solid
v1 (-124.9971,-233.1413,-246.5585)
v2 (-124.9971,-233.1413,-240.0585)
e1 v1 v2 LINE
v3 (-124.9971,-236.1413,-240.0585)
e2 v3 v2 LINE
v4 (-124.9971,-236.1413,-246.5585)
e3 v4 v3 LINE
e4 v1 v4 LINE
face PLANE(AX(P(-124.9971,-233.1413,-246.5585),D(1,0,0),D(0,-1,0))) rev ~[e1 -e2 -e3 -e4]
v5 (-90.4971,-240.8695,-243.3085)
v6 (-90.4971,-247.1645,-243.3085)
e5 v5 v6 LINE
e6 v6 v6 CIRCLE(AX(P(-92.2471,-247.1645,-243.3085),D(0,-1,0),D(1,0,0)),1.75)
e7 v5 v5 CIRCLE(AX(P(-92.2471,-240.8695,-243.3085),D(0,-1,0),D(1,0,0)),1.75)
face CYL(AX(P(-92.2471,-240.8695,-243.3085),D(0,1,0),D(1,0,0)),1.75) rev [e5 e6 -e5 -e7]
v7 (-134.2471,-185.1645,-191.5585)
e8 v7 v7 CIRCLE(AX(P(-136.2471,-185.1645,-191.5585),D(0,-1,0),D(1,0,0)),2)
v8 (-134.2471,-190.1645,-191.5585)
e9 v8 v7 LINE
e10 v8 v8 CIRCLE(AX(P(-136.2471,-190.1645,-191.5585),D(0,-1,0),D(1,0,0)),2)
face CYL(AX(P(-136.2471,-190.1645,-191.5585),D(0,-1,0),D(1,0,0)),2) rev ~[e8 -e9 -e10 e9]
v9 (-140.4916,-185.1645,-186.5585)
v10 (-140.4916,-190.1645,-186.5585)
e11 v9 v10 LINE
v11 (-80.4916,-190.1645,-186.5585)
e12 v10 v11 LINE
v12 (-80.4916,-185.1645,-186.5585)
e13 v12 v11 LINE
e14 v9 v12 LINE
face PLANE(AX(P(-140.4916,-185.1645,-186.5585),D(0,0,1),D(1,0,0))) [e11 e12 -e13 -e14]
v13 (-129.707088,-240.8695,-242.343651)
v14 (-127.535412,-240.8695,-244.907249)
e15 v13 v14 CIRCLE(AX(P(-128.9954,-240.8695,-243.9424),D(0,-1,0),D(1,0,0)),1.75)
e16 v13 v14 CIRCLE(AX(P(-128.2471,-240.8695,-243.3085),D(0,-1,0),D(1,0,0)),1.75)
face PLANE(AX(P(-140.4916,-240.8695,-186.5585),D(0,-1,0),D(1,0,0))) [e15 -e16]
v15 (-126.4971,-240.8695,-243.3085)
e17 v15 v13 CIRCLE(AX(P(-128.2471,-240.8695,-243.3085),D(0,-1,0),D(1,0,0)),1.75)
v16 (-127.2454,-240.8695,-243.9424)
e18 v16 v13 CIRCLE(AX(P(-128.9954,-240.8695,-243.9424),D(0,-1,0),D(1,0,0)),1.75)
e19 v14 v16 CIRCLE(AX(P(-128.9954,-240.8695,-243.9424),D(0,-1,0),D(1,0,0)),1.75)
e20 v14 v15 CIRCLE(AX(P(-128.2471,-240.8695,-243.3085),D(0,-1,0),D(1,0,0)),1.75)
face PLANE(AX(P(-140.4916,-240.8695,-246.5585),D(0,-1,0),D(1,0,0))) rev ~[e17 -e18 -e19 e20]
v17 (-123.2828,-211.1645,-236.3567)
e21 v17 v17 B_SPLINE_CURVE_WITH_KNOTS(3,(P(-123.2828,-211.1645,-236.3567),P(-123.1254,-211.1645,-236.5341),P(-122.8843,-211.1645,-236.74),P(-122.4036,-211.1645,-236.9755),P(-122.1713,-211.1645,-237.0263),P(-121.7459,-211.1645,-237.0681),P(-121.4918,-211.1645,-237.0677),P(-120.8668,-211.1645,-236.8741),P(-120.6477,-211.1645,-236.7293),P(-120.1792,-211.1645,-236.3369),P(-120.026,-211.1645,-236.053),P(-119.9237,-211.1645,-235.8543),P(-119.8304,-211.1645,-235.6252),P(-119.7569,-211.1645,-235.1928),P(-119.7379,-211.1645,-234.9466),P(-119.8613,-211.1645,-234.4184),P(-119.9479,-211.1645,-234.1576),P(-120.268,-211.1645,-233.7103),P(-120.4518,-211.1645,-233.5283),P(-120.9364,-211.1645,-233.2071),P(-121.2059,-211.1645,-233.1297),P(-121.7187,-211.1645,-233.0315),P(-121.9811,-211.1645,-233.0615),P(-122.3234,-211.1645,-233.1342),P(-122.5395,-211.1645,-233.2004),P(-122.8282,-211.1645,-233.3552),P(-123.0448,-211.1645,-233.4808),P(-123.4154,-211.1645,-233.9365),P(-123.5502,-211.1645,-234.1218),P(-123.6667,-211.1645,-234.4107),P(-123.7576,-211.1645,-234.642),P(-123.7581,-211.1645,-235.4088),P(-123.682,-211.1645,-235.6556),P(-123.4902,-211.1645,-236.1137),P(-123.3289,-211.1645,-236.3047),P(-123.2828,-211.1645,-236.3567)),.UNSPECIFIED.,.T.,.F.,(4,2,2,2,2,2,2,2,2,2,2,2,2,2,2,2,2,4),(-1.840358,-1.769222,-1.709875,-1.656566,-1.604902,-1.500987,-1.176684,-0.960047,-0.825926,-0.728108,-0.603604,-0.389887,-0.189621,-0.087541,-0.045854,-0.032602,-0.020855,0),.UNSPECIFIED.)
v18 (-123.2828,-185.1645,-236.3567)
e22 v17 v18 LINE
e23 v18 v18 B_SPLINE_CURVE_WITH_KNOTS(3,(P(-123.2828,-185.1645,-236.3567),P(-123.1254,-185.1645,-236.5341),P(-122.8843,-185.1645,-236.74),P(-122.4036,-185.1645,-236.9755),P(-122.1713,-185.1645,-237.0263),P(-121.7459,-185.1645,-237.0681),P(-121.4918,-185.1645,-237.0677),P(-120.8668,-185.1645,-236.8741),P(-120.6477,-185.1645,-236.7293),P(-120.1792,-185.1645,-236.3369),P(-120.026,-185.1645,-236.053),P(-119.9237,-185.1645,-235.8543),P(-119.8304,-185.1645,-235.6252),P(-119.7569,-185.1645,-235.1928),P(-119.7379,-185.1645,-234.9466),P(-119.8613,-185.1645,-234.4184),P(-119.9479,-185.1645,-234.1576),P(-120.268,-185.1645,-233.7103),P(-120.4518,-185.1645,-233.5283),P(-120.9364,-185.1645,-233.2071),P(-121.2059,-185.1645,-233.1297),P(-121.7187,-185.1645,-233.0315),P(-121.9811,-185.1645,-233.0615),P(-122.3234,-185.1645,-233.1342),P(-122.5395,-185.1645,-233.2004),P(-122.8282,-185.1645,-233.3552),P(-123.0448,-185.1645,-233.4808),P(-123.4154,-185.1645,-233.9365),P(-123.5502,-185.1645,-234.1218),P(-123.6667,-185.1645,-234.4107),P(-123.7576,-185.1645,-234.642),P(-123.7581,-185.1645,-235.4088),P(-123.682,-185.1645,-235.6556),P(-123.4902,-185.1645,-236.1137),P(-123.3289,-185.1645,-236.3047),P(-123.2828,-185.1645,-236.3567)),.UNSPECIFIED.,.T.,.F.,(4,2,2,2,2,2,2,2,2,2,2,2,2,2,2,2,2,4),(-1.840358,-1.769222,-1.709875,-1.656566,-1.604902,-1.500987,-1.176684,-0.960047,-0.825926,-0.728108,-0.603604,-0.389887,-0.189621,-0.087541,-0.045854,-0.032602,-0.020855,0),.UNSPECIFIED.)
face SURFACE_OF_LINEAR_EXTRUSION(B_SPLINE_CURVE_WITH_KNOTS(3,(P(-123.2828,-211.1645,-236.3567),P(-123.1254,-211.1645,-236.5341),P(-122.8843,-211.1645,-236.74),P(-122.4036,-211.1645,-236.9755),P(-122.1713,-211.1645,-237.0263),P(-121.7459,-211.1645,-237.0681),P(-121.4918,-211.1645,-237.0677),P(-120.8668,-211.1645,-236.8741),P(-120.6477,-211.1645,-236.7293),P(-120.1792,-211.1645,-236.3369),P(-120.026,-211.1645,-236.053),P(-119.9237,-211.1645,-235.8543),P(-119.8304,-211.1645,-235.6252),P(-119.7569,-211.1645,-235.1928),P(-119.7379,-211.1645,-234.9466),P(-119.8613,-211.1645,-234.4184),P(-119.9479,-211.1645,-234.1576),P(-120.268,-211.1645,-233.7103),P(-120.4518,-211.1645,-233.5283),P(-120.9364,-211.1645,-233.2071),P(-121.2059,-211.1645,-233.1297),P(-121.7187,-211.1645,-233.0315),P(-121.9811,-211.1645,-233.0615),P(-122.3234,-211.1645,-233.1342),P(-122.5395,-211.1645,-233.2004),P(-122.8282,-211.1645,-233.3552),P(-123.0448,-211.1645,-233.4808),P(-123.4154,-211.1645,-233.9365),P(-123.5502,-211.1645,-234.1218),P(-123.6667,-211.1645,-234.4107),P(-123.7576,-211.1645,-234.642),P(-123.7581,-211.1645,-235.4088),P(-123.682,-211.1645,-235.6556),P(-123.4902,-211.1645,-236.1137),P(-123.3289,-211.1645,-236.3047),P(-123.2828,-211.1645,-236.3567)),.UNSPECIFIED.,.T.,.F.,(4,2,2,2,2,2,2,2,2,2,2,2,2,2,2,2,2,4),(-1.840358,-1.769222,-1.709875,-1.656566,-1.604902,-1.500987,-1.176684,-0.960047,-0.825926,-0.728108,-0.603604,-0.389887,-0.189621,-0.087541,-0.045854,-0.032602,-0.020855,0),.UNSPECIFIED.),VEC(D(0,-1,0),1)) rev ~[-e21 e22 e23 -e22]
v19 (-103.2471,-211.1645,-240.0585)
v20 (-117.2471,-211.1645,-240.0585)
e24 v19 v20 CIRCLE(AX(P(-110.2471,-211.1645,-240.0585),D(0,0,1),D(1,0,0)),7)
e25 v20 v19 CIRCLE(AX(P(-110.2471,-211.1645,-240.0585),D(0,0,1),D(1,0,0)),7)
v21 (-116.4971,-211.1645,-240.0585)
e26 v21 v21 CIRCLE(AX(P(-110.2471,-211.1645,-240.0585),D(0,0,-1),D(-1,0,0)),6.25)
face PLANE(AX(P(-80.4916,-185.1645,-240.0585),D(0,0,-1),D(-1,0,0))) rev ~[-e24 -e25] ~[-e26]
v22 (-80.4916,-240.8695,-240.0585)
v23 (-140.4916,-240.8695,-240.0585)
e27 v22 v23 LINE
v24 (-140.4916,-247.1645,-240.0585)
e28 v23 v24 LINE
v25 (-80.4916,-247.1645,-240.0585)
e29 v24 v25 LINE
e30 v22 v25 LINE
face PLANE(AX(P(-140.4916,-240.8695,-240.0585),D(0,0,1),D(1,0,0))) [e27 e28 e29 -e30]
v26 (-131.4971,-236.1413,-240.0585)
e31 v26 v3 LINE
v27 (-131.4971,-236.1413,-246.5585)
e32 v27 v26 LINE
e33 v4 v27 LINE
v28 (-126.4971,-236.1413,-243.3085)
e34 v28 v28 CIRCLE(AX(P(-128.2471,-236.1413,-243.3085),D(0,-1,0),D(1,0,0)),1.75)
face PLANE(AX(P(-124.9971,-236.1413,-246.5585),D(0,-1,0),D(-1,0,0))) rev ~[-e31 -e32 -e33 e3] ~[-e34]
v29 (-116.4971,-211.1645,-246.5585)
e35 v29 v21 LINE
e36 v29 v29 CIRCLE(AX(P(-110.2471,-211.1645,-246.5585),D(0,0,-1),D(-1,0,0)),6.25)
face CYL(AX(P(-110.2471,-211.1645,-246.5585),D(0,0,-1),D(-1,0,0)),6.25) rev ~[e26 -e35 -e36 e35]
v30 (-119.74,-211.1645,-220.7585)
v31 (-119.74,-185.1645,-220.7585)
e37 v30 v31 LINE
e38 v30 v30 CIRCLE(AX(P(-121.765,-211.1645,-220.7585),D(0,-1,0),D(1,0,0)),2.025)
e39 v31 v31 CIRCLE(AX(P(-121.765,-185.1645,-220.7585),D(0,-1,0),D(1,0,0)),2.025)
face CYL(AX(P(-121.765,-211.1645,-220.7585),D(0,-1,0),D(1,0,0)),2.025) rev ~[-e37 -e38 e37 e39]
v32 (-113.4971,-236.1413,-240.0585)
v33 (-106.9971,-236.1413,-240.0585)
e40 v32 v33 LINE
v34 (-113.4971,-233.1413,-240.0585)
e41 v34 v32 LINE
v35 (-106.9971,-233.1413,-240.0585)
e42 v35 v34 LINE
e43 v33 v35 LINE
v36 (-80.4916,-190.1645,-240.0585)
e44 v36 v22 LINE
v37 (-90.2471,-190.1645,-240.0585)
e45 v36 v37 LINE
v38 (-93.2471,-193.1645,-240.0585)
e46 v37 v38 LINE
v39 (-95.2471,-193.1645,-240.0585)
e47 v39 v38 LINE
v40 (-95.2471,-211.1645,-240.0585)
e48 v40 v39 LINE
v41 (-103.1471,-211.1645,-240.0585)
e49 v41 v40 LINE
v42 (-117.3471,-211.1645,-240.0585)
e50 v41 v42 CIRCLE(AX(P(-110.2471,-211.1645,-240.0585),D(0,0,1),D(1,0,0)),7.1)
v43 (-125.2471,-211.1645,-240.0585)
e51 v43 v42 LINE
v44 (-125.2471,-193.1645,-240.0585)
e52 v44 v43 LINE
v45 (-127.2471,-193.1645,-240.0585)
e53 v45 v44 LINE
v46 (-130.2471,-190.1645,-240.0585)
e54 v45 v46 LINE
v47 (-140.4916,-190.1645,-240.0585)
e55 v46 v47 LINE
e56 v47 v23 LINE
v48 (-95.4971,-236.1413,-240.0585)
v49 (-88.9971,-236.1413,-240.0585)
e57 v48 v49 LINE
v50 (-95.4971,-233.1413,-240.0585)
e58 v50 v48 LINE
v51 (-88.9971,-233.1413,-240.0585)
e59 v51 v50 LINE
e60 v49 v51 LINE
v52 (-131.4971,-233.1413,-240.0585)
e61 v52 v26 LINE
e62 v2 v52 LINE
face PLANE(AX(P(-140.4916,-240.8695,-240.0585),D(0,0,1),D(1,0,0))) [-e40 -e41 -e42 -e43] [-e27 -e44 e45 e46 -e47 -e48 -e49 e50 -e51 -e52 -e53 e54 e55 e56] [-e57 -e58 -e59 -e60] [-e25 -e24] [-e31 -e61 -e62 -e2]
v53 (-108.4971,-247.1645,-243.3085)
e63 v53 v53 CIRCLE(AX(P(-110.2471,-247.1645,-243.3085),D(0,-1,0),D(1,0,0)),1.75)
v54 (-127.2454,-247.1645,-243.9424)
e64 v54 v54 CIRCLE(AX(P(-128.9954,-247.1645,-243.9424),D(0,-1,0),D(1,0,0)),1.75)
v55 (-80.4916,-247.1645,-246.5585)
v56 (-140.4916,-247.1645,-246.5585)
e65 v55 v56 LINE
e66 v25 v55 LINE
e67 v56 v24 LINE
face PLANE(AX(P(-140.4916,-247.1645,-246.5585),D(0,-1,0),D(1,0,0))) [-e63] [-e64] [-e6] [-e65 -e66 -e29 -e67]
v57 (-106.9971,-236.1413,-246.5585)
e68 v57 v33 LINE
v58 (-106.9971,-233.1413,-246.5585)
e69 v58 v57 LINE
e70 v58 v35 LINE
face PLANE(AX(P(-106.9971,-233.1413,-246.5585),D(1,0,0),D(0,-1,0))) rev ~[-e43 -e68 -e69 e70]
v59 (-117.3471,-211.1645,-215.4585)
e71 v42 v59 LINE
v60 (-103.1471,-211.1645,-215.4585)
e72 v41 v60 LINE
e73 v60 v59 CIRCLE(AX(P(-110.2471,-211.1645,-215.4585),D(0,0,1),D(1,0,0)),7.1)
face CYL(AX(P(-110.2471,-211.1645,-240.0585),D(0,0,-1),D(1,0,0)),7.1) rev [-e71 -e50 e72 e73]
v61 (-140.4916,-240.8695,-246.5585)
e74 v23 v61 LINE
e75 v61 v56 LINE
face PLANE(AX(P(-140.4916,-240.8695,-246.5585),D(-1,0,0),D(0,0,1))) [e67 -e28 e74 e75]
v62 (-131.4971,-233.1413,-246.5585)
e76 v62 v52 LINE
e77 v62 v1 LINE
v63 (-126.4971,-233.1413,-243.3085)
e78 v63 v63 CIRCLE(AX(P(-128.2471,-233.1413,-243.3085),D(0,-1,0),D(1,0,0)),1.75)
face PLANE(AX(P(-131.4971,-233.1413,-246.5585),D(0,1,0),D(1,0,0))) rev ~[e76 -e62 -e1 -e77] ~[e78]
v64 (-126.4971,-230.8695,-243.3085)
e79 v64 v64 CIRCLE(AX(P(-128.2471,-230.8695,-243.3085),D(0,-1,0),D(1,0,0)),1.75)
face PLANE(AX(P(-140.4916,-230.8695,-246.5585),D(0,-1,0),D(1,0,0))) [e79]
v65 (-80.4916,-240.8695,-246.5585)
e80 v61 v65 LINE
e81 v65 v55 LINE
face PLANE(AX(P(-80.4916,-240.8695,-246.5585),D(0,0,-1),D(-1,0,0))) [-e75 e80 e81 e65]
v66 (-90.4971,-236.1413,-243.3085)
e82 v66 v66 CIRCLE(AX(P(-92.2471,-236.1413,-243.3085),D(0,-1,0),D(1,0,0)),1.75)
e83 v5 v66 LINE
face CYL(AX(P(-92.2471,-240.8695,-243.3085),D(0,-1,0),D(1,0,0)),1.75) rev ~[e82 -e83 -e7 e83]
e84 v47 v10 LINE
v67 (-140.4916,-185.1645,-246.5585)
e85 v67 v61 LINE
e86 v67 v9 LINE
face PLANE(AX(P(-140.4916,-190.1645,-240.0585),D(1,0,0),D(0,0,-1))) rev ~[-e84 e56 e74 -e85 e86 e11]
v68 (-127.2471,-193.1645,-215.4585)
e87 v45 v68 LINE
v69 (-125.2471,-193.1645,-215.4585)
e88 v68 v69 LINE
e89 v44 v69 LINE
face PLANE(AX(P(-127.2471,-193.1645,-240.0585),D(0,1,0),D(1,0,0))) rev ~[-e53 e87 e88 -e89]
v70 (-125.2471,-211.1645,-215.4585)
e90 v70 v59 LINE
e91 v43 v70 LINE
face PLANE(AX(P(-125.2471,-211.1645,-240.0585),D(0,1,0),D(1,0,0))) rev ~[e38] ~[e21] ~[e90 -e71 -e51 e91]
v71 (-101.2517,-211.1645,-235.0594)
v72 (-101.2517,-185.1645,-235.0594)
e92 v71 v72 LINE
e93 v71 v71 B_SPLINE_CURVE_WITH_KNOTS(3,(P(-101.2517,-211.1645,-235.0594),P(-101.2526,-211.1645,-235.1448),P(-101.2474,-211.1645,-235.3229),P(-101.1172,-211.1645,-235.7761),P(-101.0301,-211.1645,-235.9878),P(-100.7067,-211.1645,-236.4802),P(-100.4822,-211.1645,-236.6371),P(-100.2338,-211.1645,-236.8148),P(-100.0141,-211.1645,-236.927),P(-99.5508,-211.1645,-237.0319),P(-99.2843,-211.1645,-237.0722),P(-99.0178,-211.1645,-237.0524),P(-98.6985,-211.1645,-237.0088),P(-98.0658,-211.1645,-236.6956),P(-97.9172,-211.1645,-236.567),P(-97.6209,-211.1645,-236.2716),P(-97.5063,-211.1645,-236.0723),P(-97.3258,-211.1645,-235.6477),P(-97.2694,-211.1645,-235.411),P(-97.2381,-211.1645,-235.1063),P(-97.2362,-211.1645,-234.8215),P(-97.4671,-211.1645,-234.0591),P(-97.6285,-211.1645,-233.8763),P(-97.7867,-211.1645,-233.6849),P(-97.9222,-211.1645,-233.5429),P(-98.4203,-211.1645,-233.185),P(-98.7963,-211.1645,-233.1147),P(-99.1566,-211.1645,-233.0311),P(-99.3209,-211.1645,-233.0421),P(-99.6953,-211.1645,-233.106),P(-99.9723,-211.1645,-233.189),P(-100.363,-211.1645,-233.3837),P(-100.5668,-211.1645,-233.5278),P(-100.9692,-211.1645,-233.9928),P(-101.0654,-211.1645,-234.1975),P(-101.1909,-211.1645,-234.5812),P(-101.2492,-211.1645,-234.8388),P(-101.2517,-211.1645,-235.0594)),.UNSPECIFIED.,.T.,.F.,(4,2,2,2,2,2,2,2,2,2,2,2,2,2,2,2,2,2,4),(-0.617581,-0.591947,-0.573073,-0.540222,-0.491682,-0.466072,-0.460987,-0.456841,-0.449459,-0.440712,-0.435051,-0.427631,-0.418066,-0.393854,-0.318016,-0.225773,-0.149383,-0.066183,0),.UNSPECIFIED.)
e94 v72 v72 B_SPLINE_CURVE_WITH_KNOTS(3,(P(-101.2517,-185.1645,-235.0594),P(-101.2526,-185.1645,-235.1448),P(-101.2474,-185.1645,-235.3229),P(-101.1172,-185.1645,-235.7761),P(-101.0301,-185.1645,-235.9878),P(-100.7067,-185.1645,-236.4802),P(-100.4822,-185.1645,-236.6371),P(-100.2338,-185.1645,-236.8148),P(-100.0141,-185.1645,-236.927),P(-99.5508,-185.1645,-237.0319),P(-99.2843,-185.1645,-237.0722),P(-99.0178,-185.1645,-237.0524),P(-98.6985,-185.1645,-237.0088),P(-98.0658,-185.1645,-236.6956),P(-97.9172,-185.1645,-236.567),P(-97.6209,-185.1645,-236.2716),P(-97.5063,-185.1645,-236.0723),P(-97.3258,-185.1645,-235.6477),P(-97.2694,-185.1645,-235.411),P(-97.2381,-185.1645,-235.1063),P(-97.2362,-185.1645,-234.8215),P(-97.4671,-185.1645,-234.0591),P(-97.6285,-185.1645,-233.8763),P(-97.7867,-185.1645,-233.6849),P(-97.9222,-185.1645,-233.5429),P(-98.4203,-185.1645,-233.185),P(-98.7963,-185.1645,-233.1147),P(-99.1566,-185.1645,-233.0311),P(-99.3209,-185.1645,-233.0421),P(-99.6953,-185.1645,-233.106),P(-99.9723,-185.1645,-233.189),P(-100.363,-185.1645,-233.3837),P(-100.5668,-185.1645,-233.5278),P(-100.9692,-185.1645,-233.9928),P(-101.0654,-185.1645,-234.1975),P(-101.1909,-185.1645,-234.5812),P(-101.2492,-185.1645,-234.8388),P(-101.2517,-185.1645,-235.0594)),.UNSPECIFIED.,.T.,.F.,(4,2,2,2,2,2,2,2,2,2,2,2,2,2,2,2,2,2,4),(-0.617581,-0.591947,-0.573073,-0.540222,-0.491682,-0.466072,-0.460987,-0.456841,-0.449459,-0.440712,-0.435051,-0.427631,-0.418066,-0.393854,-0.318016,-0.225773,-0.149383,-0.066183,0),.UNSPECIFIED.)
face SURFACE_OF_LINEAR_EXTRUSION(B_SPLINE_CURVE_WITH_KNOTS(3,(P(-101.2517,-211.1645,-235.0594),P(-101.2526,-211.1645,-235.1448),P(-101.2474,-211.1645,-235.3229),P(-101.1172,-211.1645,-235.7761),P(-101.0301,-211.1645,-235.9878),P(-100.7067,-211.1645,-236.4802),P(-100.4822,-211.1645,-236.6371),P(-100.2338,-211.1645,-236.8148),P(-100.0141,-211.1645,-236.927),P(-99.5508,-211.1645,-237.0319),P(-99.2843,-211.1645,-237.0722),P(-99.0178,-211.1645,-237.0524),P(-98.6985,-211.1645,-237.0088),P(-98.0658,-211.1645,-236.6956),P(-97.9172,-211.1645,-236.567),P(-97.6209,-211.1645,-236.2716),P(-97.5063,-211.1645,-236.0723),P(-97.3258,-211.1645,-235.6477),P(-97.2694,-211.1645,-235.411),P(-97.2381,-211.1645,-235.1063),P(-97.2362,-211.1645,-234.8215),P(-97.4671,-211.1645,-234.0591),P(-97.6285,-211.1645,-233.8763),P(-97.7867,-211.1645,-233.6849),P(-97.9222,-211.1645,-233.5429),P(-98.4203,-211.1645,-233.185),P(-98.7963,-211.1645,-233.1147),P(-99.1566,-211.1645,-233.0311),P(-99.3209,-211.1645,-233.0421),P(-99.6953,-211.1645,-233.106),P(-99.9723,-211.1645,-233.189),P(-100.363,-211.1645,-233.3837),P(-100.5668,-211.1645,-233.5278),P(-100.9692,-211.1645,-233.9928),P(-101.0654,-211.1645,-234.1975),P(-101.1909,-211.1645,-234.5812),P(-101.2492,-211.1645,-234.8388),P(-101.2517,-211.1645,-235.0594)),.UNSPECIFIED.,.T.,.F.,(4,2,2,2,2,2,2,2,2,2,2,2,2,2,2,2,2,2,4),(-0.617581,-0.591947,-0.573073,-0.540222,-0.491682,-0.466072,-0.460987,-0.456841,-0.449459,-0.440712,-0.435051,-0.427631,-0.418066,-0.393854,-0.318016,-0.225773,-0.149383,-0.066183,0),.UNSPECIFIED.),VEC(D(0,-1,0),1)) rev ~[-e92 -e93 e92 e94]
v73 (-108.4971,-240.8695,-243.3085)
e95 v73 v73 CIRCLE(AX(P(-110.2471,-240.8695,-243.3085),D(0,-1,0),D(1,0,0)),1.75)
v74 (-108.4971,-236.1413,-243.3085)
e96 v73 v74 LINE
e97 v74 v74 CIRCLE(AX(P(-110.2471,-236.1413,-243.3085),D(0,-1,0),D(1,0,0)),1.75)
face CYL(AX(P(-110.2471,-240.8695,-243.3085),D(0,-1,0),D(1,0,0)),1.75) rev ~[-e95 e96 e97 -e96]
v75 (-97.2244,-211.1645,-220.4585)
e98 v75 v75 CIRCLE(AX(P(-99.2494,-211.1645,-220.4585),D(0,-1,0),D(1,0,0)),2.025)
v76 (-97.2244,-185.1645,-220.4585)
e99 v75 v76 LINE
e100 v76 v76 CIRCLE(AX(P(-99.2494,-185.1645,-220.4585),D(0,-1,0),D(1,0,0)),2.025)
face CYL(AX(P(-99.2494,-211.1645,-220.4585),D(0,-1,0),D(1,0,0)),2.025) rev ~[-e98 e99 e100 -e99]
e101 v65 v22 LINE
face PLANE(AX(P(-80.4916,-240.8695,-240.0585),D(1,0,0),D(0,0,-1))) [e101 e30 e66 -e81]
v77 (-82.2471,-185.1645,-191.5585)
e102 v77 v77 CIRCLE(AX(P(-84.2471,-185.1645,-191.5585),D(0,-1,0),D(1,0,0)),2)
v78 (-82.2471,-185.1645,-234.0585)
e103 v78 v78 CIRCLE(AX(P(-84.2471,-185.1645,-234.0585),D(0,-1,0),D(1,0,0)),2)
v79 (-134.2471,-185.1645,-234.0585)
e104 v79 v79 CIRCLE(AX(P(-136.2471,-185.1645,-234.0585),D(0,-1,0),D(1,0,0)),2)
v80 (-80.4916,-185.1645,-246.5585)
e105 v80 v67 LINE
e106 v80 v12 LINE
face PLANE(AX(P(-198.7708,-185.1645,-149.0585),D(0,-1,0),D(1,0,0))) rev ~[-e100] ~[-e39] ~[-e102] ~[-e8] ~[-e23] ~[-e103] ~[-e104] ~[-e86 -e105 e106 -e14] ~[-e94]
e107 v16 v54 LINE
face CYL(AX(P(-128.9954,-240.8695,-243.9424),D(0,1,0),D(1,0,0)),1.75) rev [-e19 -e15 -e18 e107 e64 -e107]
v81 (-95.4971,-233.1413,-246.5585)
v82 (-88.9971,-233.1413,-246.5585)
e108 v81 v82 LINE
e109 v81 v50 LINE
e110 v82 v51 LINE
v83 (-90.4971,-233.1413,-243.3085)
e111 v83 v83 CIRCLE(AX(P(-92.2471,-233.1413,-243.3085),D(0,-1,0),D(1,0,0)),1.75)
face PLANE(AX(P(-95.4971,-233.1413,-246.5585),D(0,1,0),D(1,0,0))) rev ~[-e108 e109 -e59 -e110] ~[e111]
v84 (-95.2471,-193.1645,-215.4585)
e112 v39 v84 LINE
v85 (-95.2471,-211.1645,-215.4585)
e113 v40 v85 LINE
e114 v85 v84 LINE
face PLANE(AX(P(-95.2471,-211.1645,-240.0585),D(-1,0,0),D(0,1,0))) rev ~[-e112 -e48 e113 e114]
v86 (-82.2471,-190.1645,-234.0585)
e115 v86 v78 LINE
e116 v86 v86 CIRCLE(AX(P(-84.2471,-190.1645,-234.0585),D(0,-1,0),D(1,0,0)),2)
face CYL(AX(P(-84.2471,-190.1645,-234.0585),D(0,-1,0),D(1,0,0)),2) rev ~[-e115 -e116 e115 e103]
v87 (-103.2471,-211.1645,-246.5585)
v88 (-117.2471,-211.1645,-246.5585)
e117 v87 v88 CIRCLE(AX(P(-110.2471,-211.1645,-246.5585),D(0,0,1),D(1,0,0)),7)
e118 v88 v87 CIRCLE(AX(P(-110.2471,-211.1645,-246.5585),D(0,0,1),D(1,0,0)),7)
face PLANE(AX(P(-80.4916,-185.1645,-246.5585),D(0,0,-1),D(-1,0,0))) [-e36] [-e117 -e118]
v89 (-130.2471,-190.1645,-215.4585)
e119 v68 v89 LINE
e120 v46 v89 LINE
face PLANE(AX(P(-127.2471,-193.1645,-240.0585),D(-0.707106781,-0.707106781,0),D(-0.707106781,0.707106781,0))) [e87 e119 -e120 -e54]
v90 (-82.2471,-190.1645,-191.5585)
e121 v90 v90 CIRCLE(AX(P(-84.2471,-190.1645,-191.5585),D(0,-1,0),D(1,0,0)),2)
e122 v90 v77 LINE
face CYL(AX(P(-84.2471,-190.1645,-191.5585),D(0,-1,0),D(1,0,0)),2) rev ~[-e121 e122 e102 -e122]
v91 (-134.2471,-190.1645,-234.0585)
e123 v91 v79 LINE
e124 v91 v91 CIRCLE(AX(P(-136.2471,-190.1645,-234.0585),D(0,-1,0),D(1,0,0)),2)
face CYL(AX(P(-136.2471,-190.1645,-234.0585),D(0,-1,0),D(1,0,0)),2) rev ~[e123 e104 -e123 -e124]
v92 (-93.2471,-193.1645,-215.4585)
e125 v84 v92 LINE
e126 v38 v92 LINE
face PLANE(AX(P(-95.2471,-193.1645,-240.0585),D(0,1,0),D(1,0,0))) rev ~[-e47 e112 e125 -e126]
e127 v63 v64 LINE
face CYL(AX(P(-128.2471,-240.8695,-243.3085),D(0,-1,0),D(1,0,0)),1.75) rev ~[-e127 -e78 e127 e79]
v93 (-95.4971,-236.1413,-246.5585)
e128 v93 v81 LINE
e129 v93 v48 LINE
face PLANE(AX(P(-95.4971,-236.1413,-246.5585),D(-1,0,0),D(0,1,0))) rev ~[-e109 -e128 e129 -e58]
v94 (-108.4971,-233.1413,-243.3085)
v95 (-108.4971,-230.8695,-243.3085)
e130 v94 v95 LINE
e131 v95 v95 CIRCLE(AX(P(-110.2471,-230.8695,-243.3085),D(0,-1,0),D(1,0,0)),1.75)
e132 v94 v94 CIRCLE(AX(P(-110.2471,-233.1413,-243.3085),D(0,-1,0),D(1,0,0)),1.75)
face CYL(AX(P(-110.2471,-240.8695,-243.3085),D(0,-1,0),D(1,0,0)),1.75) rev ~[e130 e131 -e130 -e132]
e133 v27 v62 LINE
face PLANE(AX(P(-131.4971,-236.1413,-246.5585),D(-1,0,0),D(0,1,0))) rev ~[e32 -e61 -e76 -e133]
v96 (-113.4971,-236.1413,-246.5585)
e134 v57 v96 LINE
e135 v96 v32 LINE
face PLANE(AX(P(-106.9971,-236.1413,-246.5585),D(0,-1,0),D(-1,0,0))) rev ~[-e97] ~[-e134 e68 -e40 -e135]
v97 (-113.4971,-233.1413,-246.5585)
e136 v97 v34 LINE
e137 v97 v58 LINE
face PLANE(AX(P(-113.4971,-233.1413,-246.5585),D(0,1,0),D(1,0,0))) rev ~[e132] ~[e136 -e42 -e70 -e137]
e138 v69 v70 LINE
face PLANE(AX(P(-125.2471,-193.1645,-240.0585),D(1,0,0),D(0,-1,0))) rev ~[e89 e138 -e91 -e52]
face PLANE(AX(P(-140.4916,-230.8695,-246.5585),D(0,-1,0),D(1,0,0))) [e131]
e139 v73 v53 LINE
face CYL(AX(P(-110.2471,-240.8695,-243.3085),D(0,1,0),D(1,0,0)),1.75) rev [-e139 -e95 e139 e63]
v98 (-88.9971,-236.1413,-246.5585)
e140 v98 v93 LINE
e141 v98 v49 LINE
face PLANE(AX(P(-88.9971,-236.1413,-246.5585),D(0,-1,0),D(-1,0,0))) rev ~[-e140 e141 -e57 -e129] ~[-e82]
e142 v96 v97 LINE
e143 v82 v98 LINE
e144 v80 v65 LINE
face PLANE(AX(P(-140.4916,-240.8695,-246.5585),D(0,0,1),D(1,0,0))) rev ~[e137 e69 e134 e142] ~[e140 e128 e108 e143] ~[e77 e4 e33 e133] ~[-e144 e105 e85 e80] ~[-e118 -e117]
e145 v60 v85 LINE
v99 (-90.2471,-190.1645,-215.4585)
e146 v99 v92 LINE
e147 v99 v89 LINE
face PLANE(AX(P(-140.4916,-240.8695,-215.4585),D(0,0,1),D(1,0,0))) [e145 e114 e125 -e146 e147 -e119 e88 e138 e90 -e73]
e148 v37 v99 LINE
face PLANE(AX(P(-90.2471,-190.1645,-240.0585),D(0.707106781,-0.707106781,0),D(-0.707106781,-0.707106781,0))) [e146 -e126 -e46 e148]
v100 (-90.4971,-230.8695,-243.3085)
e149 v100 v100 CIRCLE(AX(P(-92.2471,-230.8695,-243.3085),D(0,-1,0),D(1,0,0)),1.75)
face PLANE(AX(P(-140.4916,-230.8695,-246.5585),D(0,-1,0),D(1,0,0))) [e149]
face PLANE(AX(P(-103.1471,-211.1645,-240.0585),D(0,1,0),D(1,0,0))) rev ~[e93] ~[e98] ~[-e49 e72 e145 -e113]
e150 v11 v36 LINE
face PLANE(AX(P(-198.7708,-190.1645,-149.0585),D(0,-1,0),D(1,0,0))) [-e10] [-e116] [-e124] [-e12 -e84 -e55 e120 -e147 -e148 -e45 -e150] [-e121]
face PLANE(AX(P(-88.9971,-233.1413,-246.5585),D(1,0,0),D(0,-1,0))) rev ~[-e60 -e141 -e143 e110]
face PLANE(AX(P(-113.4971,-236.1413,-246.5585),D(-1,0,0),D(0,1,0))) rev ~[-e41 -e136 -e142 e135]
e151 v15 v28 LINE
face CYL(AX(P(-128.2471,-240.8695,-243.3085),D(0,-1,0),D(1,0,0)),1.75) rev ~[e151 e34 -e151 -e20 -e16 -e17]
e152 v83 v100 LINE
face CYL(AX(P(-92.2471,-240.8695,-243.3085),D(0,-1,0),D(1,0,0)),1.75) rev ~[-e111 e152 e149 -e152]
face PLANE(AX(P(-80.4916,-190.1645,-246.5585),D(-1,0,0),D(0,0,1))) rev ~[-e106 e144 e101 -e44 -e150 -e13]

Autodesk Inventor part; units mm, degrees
ref_plane "РабПлоскость1" through (-198.7708, -185.1645, -149.0585) normal (0, -1, 0) x (1, 0, 0)
sketch "Эскиз1" plane through (-198.7708, -185.1645, -149.0585) normal (0, -1, 0) x (1, 0, 0)
  line L0 (-135, 97.5) -> (-135, 77.5) projected
  line L1 (-118.5237, -91) -> (-118.5237, -37.5) projected
  line L2 (-135, -79.6587) -> (-135, -55.4979)
  line L3 (-118.5237, -55.4979) -> (-118.5237, -79.6587)
  line L4 (-118.5237, -55.4979) -> (-135, -55.4979)
  line L5 (-0.1223, -79.6587) -> (-0.1223, 72.5986)
  line L6 (118.2792, -55.4979) -> (134.7555, -55.4979)
  line L7 (-118.5237, -97.5) -> (-58.5237, -97.5) projected
  line L8 (118.2792, -97.5) -> (58.2792, -97.5)
  line L9 (58.2792, -97.5) -> (58.2792, -37.5)
  line L10 (58.2792, -37.5) -> (118.2792, -37.5)
  line L11 (118.2792, -37.5) -> (118.2792, -97.5)
  point P0 (198.7708, 149.0585)
  point P1 (118.2792, -37.5)
  dimension "d5" = 135
  dimension "d8" = 6.5
  dimension "d1" = 60
  dimension "d2" = 60
ref_plane "РабПлоскость2" through (-334.9307, -190.1645, -233.6585) normal (0, 1, 0) x (0, 0, 1)
extrude "Выдавливание1" add sketch "Эскиз1" along normal up to surface (5 mm away)
sketch "Эскиз2" plane through (-140.4916, -190.1645, -186.5585) normal (0, -1, 0) x (1, 0, 0)
  circle A0 centre (-172.803, -47.5) radius 2 projected
  circle A1 centre (-120.803, -47.5) radius 2 projected
  circle A2 centre (-120.803, -5) radius 2 projected
  circle A3 centre (-172.803, -5) radius 2 projected
  line L0 (-193.2792, 135) -> (-193.2792, 115) projected
  line L1 (76.7208, -52) -> (76.7208, 127) projected
  line L2 (-193.2792, 115) -> (-58.2792, 115)
  line L3 (-58.2792, 115) -> (-58.2792, 207.9889)
  circle A4 centre (56.2445, -47.5) radius 2
  circle A5 centre (4.2445, -47.5) radius 2
  circle A6 centre (4.2445, -5) radius 2
  circle A7 centre (56.2445, -5) radius 2
  point P0 (140.4916, 186.5585)
  dimension "d5" = 135
extrude "Выдавливание2" cut sketch "Эскиз2" against normal blind 10 contours A4 | A5 | A6 | A7
sketch "Эскиз3" plane through (-140.4916, -190.1645, -186.5585) normal (0, -1, 0) x (1, 0, 0)
  line L0 (0, -60) -> (60, -60) projected
  line L1 (0, -60) -> (60, -60)
  line L2 (60, -60) -> (60, -53.5)
  line L3 (60, -53.5) -> (0, -53.5)
  line L4 (0, -53.5) -> (0, -60)
  point P0 (140.4916, 186.5585)
  dimension "d8" = 6.5
sketch "Эскиз4" plane through (-140.4916, -190.1645, -186.5585) normal (0, -1, 0) x (1, 0, 0)
  spline S0 degree 3 poles (43.2445, -30) (43.2445, -30.1203) (43.2336, -30.2387) (43.1929, -30.4661) (43.1631, -30.5751) (43.0528, -30.8816) (42.9505, -31.0587) (42.5833, -31.5484) (42.2402, -31.7817) (41.4641, -32.0292) (41.03, -32.0367) (40.4334, -31.8378) (40.2391, -31.7434) (39.8778, -31.4773) (39.7111, -31.305) (39.4834, -30.9643) (39.3942, -30.7855) (39.2746, -30.4002) (39.2445, -30.1935) (39.2445, -29.8065) (39.2746, -29.5998) (39.3942, -29.2145) (39.4834, -29.0357) (39.7111, -28.695) (39.8778, -28.5227) (40.2391, -28.2566) (40.4334, -28.1622) (41.03, -27.9633) (41.4641, -27.9708) (42.2402, -28.2183) (42.5833, -28.4516) (42.9505, -28.9413) (43.0528, -29.1184) (43.1631, -29.4249) (43.1929, -29.5339) (43.2336, -29.7613) (43.2445, -29.8797) (43.2445, -30) knots 0 0 0 0 0.036086 0.036086 0.072173 0.072173 0.144346 0.144346 0.322747 0.322747 0.501149 0.501149 0.577509 0.577509 0.653869 0.653869 0.711915 0.711915 0.769961 0.769961 0.828007 0.828007 0.886052 0.886052 0.962412 0.962412 1.038772 1.038772 1.217174 1.217174 1.395575 1.395575 1.467748 1.467748 1.503835 1.503835 1.539921 1.539921 1.539921 1.539921 projected
  spline S1 degree 3 poles (20.7277, -30) (20.7277, -30.1752) (20.703, -30.3631) (20.604, -30.7163) (20.53, -30.8816) (20.3402, -31.202) (20.1997, -31.3694) (19.8919, -31.6391) (19.7251, -31.7419) (19.1904, -31.9904) (18.7862, -32.034) (18.0457, -31.9171) (17.7092, -31.7574) (17.2213, -31.3457) (16.9969, -31.0683) (16.8255, -30.6264) (16.7899, -30.5111) (16.7409, -30.2621) (16.7277, -30.1279) (16.7277, -29.8721) (16.7409, -29.7379) (16.7899, -29.4889) (16.8255, -29.3736) (16.9969, -28.9317) (17.2213, -28.6543) (17.7092, -28.2426) (18.0457, -28.0829) (18.7862, -27.966) (19.1904, -28.0096) (19.7251, -28.2581) (19.8919, -28.3609) (20.1997, -28.6306) (20.3402, -28.798) (20.53, -29.1184) (20.604, -29.2837) (20.703, -29.6369) (20.7277, -29.8248) (20.7277, -30) knots 0 0 0 0 0.052568 0.052568 0.105137 0.105137 0.174601 0.174601 0.244066 0.244066 0.414781 0.414781 0.585496 0.585496 0.721852 0.721852 0.760221 0.760221 0.798591 0.798591 0.83696 0.83696 0.875329 0.875329 1.011685 1.011685 1.1824 1.1824 1.353115 1.353115 1.42258 1.42258 1.492044 1.492044 1.544613 1.544613 1.597181 1.597181 1.597181 1.597181 projected
  point P0 (140.4916, 186.5585)
  point P1 (43.2445, -30)
  point P2 (20.7277, -30)
ref_plane "РабПлоскость3" through (-350.5737, -240.8695, -246.5585) normal (0, -1, 0) x (1, 0, 0)
extrude "Выдавливание4" add sketch "Эскиз3" along normal up to surface (50.705 mm away)
sketch "Эскиз5" plane through (-140.4916, -240.8695, -246.5585) normal (0, -1, 0) x (1, 0, 0)
  circle A0 centre (-164.803, 3.25) radius 1.75 projected
  circle A1 centre (-146.803, 3.25) radius 1.75 projected
  circle A2 centre (-128.803, 3.25) radius 1.75 projected
  line L0 (76.7208, 0) -> (4, 0) projected
  line L1 (4, 0) -> (139, 0)
  line L2 (139, 0) -> (139, 88.2878)
  circle A3 centre (442.803, 3.25) radius 1.75
  circle A4 centre (424.803, 3.25) radius 1.75
  circle A5 centre (406.803, 3.25) radius 1.75
  point P0 (140.4916, 246.5585)
  dimension "d13" = 135
ref_plane "РабПлоскость4" through (-340.3237, -230.8695, -245.0585) normal (0, -1, 0) x (1, 0, 0)
sketch "Эскиз6" plane through (-140.4916, -190.1645, -240.0585) normal (0, 0, 1) x (1, 0, 0)
  circle A0 centre (30.2445, -21) radius 2.5 projected
  circle A1 centre (30.2445, -21) radius 17.5
  point P0 (140.4916, 190.1645)
  dimension "d16" = 35
extrude "Выдавливание6" cut sketch "Эскиз6" against normal blind 10 contours A0 | A1
sketch "Эскиз7" plane through (-80.4916, -185.1645, -246.5585) normal (0, 0, -1) x (-1, 0, 0)
  line L0 (228.053, -47.9768) -> (228.053, -50.9768) projected
  line L1 (228.053, -50.9768) -> (221.553, -50.9768) projected
  line L2 (221.553, -47.9768) -> (228.053, -47.9768) projected
  line L3 (221.553, -50.9768) -> (221.553, -47.9768) projected
  line L4 (210.053, -47.9768) -> (210.053, -50.9768) projected
  line L5 (210.053, -50.9768) -> (203.553, -50.9768) projected
  line L6 (203.553, -50.9768) -> (203.553, -47.9768) projected
  line L7 (203.553, -47.9768) -> (210.053, -47.9768) projected
  line L8 (192.053, -50.9768) -> (185.553, -50.9768) projected
  line L9 (185.553, -50.9768) -> (185.553, -47.9768) projected
  line L10 (185.553, -47.9768) -> (192.053, -47.9768) projected
  line L11 (192.053, -47.9768) -> (192.053, -50.9768) projected
  line L12 (253.2792, -59.705) -> (180.803, -59.705) projected
  line L13 (253.2792, -59.705) -> (217.0411, -59.705)
  line L14 (217.0411, -59.705) -> (217.0411, -16.367)
  line L15 (206.0292, -47.9768) -> (206.0292, -50.9768)
  line L16 (206.0292, -50.9768) -> (212.5292, -50.9768)
  line L17 (212.5292, -47.9768) -> (206.0292, -47.9768)
  line L18 (212.5292, -50.9768) -> (212.5292, -47.9768)
  line L19 (224.0292, -47.9768) -> (224.0292, -50.9768)
  line L20 (224.0292, -50.9768) -> (230.5292, -50.9768)
  line L21 (230.5292, -50.9768) -> (230.5292, -47.9768)
  line L22 (230.5292, -47.9768) -> (224.0292, -47.9768)
  line L23 (242.0292, -50.9768) -> (248.5292, -50.9768)
  line L24 (248.5292, -50.9768) -> (248.5292, -47.9768)
  line L25 (248.5292, -47.9768) -> (242.0292, -47.9768)
  line L26 (242.0292, -47.9768) -> (242.0292, -50.9768)
  point P0 (-80.4916, 185.1645)
sketch "Эскиз8" plane through (-140.4916, -240.8695, -240.0585) normal (0, 0, 1) x (1, 0, 0)
  circle A0 centre (30.2445, 29.705) radius 17.5 projected
  circle A1 centre (30.2445, 29.705) radius 7 projected
  point P0 (140.4916, 240.8695)
extrude "Выдавливание8" add sketch "Эскиз8" against normal up to surface (6.5 mm away)
sketch "Эскиз9" plane through (-140.4916, -240.8695, -240.0585) normal (0, 0, 1) x (1, 0, 0)
  arc A0 (37.3445, 29.705) -> (23.1445, 29.705) centre (30.2445, 29.705) ccw projected
  line L0 (37.3445, 29.705) -> (45.2445, 29.705) projected
  line L1 (45.2445, 29.705) -> (45.2445, 47.705) projected
  line L2 (45.2445, 47.705) -> (47.2445, 47.705) projected
  line L3 (50.2445, 50.705) -> (10.2445, 50.705) projected
  line L4 (13.2445, 47.705) -> (15.2445, 47.705) projected
  line L5 (15.2445, 47.705) -> (15.2445, 29.705) projected
  line L6 (15.2445, 29.705) -> (23.1445, 29.705) projected
  line L7 (50.2445, 50.705) -> (10.2445, 50.705) projected
  line L8 (45.2445, 47.705) -> (47.2445, 47.705) projected
  line L9 (13.2445, 47.705) -> (10.2445, 50.705) projected
  line L10 (50.2445, 50.705) -> (47.2445, 47.705) projected
  point P0 (140.4916, 240.8695)
ref_plane "РабПлоскость5" through (-163.5263, -211.1645, -221.5585) normal (0, 0, -1) x (0, 1, 0)
extrude "Выдавливание9" add sketch "Эскиз9" along normal blind 24.6
sketch "Эскиз10" plane through (-103.147, -211.1645, -240.0585) normal (0, -1, 0) x (1, 0, 0)
  spline S0 degree 3 poles (1.8953, 4.9991) (1.8944, 4.9137) (1.8996, 4.7356) (2.0298, 4.2824) (2.1169, 4.0707) (2.4403, 3.5783) (2.6648, 3.4214) (2.9132, 3.2437) (3.1329, 3.1315) (3.5962, 3.0266) (3.8627, 2.9863) (4.1292, 3.0061) (4.4485, 3.0497) (5.0812, 3.3629) (5.2298, 3.4915) (5.5261, 3.7869) (5.6407, 3.9862) (5.8212, 4.4108) (5.8776, 4.6475) (5.9089, 4.9522) (5.9108, 5.237) (5.6799, 5.9994) (5.5185, 6.1822) (5.3603, 6.3736) (5.2248, 6.5156) (4.7267, 6.8735) (4.3507, 6.9438) (3.9904, 7.0274) (3.8261, 7.0164) (3.4517, 6.9525) (3.1747, 6.8695) (2.784, 6.6748) (2.5802, 6.5307) (2.1778, 6.0657) (2.0816, 5.861) (1.9561, 5.4773) (1.8978, 5.2197) (1.8953, 4.9991) knots -0.617581 -0.617581 -0.617581 -0.617581 -0.591947 -0.591947 -0.573073 -0.573073 -0.540222 -0.540222 -0.491682 -0.491682 -0.466072 -0.466072 -0.460987 -0.460987 -0.456841 -0.456841 -0.449459 -0.449459 -0.440712 -0.440712 -0.435051 -0.435051 -0.427631 -0.427631 -0.418066 -0.418066 -0.393854 -0.393854 -0.318016 -0.318016 -0.225773 -0.225773 -0.149383 -0.149383 -0.066183 -0.066183 0 0 0 0 projected
  spline S1 degree 3 poles (-20.1358, 3.7018) (-19.9784, 3.5244) (-19.7373, 3.3185) (-19.2566, 3.083) (-19.0243, 3.0322) (-18.5989, 2.9904) (-18.3448, 2.9908) (-17.7198, 3.1844) (-17.5007, 3.3292) (-17.0322, 3.7216) (-16.879, 4.0055) (-16.7767, 4.2042) (-16.6834, 4.4333) (-16.6099, 4.8657) (-16.5909, 5.1119) (-16.7143, 5.6401) (-16.8009, 5.9009) (-17.121, 6.3482) (-17.3048, 6.5302) (-17.7894, 6.8514) (-18.0589, 6.9288) (-18.5717, 7.027) (-18.8341, 6.997) (-19.1764, 6.9243) (-19.3925, 6.8581) (-19.6812, 6.7033) (-19.8978, 6.5777) (-20.2684, 6.122) (-20.4032, 5.9367) (-20.5197, 5.6478) (-20.6106, 5.4165) (-20.6111, 4.6497) (-20.535, 4.4029) (-20.3432, 3.9448) (-20.1819, 3.7538) (-20.1358, 3.7018) knots -1.840358 -1.840358 -1.840358 -1.840358 -1.769222 -1.769222 -1.709875 -1.709875 -1.656566 -1.656566 -1.604902 -1.604902 -1.500987 -1.500987 -1.176684 -1.176684 -0.960047 -0.960047 -0.825926 -0.825926 -0.728108 -0.728108 -0.603604 -0.603604 -0.389887 -0.389887 -0.189621 -0.189621 -0.087541 -0.087541 -0.045854 -0.045854 -0.032602 -0.032602 -0.020855 -0.020855 0 0 0 0 projected
  point P0 (103.147, 240.0585)
  point P1 (1.8953, 4.9991)
  point P2 (-20.1358, 3.7018)
extrude "Выдавливание10" cut sketch "Эскиз10" against normal up to surface (26 mm away)
sketch "Эскиз11" plane through (-80.4916, -185.1645, -246.5585) normal (0, 0, -1) x (-1, 0, 0)
  line L0 (228.053, -47.9768) -> (228.053, -50.9768) projected
  line L1 (228.053, -50.9768) -> (221.553, -50.9768) projected
  line L2 (221.553, -47.9768) -> (228.053, -47.9768) projected
  line L3 (221.553, -50.9768) -> (221.553, -47.9768) projected
  line L4 (210.053, -47.9768) -> (210.053, -50.9768) projected
  line L5 (210.053, -50.9768) -> (203.553, -50.9768) projected
  line L6 (203.553, -50.9768) -> (203.553, -47.9768) projected
  circle A0 centre (206.8029, -26) radius 22 construction
  line L7 (203.553, -47.9768) -> (210.053, -47.9768) projected
  line L8 (192.053, -47.9768) -> (192.053, -50.9768) projected
  line L9 (192.053, -50.9768) -> (185.553, -50.9768) projected
  line L10 (185.553, -47.9768) -> (192.053, -47.9768) projected
  line L11 (185.553, -50.9768) -> (185.553, -47.9768) projected
  line L12 (118.2792, -176.2779) -> (118.2792, 75.7221)
  line L13 (8.5055, -47.9768) -> (8.5055, -50.9768)
  line L14 (8.5055, -50.9768) -> (15.0055, -50.9768)
  line L15 (15.0055, -47.9768) -> (8.5055, -47.9768)
  line L16 (15.0055, -50.9768) -> (15.0055, -47.9768)
  line L17 (26.5055, -47.9768) -> (26.5055, -50.9768)
  line L18 (26.5055, -50.9768) -> (33.0055, -50.9768)
  line L19 (33.0055, -50.9768) -> (33.0055, -47.9768)
  line L20 (33.0055, -47.9768) -> (26.5055, -47.9768)
  line L21 (44.5055, -47.9768) -> (44.5055, -50.9768)
  line L22 (44.5055, -50.9768) -> (51.0055, -50.9768)
  line L23 (51.0055, -47.9768) -> (44.5055, -47.9768)
  line L24 (51.0055, -50.9768) -> (51.0055, -47.9768)
  point P0 (-80.4916, 185.1645)
extrude "Выдавливание11" cut sketch "Эскиз11" against normal blind 10 contours L15 L16 L14 L13 | L20 L19 L18 L17 | L23 L24 L22 L21
sketch "Эскиз12" plane through (-140.4916, -240.8695, -246.5585) normal (0, -1, 0) x (1, 0, 0)
  circle A0 centre (48.2445, 3.25) radius 1.75
  circle A1 centre (30.2445, 3.25) radius 1.75
  circle A2 centre (12.2445, 3.25) radius 1.75
  point P0 (140.4916, 246.5585)
extrude "Выдавливание12" cut sketch "Эскиз12" against normal blind 10
sketch "Эскиз13" plane through (-80.4916, -185.1645, -246.5585) normal (0, 0, -1) x (-1, 0, 0)
  circle A0 centre (29.7555, -26) radius 7 projected
  circle A1 centre (29.7555, -26) radius 6.25
  point P0 (-80.4916, 185.1645)
  dimension "d44" = 12.5
extrude "Выдавливание13" add sketch "Эскиз13" against normal up to surface (6.5 mm away)
sketch "Эскиз14" plane through (-103.147, -211.1645, -240.0585) normal (0, -1, 0) x (1, 0, 0)
  arc A0 (1.8953, 4.967) -> (5.0128, 6.6654) centre (3.9042, 4.9899) ccw
  arc A1 (1.8953, 4.967) -> (1.8953, 4.967) centre (3.8976, 4.9898) ccw
  arc A2 (5.7284, 5.8008) -> (1.8953, 4.967) centre (3.8976, 4.9898) ccw
  circle A3 centre (3.8976, 19.6) radius 2.025
  line L0 (-37.3445, 0) -> (22.6555, 0) projected
  line L1 (0, 24.6) -> (7.9, 24.6) projected
  arc A4 (-20.1358, 3.7018) -> (-16.7404, 4.3151) centre (-18.618, 5.0045) ccw
  circle A5 centre (-18.618, 19.3) radius 2.025
  point P0 (103.147, 240.0585)
  point P1 (1.8953, 4.9991)
  dimension "d47" = 4.05
  dimension "d48" = 5
  dimension "d51" = 4.05
extrude "Выдавливание14" cut sketch "Эскиз14" against normal blind 39.3 contours A3 | A5
sketch "Эскиз15" plane through (-140.4916, -240.8695, -240.0585) normal (0, 0, 1) x (1, 0, 0)
  circle A0 centre (30.2445, 29.705) radius 7
  point P0 (140.4916, 240.8695)
sketch "Эскиз16" plane through (-140.4916, -240.8695, -246.5585) normal (0, -1, 0) x (1, 0, 0)
  circle A0 centre (11.4962, 2.6161) radius 1.75
  circle A1 centre (30.2445, 3.25) radius 1.75 projected
  circle A2 centre (48.2445, 3.25) radius 1.75 projected
  line L0 (0, 0) -> (0, 6.5) projected
  line L1 (60, 0) -> (60, 0) projected
  line L2 (0, 6.5) -> (60, 6.5)
  line L3 (60, 6.5) -> (60, 0)
  line L4 (60, 0) -> (0, 0)
  line L5 (0, 0) -> (0, 6.5)
  point P0 (140.4916, 246.5585)
  point P1 (0, 0)
extrude "Выдавливание15" add sketch "Эскиз16" along normal blind 6.295
properties part number "крепление свободной шестерни"
